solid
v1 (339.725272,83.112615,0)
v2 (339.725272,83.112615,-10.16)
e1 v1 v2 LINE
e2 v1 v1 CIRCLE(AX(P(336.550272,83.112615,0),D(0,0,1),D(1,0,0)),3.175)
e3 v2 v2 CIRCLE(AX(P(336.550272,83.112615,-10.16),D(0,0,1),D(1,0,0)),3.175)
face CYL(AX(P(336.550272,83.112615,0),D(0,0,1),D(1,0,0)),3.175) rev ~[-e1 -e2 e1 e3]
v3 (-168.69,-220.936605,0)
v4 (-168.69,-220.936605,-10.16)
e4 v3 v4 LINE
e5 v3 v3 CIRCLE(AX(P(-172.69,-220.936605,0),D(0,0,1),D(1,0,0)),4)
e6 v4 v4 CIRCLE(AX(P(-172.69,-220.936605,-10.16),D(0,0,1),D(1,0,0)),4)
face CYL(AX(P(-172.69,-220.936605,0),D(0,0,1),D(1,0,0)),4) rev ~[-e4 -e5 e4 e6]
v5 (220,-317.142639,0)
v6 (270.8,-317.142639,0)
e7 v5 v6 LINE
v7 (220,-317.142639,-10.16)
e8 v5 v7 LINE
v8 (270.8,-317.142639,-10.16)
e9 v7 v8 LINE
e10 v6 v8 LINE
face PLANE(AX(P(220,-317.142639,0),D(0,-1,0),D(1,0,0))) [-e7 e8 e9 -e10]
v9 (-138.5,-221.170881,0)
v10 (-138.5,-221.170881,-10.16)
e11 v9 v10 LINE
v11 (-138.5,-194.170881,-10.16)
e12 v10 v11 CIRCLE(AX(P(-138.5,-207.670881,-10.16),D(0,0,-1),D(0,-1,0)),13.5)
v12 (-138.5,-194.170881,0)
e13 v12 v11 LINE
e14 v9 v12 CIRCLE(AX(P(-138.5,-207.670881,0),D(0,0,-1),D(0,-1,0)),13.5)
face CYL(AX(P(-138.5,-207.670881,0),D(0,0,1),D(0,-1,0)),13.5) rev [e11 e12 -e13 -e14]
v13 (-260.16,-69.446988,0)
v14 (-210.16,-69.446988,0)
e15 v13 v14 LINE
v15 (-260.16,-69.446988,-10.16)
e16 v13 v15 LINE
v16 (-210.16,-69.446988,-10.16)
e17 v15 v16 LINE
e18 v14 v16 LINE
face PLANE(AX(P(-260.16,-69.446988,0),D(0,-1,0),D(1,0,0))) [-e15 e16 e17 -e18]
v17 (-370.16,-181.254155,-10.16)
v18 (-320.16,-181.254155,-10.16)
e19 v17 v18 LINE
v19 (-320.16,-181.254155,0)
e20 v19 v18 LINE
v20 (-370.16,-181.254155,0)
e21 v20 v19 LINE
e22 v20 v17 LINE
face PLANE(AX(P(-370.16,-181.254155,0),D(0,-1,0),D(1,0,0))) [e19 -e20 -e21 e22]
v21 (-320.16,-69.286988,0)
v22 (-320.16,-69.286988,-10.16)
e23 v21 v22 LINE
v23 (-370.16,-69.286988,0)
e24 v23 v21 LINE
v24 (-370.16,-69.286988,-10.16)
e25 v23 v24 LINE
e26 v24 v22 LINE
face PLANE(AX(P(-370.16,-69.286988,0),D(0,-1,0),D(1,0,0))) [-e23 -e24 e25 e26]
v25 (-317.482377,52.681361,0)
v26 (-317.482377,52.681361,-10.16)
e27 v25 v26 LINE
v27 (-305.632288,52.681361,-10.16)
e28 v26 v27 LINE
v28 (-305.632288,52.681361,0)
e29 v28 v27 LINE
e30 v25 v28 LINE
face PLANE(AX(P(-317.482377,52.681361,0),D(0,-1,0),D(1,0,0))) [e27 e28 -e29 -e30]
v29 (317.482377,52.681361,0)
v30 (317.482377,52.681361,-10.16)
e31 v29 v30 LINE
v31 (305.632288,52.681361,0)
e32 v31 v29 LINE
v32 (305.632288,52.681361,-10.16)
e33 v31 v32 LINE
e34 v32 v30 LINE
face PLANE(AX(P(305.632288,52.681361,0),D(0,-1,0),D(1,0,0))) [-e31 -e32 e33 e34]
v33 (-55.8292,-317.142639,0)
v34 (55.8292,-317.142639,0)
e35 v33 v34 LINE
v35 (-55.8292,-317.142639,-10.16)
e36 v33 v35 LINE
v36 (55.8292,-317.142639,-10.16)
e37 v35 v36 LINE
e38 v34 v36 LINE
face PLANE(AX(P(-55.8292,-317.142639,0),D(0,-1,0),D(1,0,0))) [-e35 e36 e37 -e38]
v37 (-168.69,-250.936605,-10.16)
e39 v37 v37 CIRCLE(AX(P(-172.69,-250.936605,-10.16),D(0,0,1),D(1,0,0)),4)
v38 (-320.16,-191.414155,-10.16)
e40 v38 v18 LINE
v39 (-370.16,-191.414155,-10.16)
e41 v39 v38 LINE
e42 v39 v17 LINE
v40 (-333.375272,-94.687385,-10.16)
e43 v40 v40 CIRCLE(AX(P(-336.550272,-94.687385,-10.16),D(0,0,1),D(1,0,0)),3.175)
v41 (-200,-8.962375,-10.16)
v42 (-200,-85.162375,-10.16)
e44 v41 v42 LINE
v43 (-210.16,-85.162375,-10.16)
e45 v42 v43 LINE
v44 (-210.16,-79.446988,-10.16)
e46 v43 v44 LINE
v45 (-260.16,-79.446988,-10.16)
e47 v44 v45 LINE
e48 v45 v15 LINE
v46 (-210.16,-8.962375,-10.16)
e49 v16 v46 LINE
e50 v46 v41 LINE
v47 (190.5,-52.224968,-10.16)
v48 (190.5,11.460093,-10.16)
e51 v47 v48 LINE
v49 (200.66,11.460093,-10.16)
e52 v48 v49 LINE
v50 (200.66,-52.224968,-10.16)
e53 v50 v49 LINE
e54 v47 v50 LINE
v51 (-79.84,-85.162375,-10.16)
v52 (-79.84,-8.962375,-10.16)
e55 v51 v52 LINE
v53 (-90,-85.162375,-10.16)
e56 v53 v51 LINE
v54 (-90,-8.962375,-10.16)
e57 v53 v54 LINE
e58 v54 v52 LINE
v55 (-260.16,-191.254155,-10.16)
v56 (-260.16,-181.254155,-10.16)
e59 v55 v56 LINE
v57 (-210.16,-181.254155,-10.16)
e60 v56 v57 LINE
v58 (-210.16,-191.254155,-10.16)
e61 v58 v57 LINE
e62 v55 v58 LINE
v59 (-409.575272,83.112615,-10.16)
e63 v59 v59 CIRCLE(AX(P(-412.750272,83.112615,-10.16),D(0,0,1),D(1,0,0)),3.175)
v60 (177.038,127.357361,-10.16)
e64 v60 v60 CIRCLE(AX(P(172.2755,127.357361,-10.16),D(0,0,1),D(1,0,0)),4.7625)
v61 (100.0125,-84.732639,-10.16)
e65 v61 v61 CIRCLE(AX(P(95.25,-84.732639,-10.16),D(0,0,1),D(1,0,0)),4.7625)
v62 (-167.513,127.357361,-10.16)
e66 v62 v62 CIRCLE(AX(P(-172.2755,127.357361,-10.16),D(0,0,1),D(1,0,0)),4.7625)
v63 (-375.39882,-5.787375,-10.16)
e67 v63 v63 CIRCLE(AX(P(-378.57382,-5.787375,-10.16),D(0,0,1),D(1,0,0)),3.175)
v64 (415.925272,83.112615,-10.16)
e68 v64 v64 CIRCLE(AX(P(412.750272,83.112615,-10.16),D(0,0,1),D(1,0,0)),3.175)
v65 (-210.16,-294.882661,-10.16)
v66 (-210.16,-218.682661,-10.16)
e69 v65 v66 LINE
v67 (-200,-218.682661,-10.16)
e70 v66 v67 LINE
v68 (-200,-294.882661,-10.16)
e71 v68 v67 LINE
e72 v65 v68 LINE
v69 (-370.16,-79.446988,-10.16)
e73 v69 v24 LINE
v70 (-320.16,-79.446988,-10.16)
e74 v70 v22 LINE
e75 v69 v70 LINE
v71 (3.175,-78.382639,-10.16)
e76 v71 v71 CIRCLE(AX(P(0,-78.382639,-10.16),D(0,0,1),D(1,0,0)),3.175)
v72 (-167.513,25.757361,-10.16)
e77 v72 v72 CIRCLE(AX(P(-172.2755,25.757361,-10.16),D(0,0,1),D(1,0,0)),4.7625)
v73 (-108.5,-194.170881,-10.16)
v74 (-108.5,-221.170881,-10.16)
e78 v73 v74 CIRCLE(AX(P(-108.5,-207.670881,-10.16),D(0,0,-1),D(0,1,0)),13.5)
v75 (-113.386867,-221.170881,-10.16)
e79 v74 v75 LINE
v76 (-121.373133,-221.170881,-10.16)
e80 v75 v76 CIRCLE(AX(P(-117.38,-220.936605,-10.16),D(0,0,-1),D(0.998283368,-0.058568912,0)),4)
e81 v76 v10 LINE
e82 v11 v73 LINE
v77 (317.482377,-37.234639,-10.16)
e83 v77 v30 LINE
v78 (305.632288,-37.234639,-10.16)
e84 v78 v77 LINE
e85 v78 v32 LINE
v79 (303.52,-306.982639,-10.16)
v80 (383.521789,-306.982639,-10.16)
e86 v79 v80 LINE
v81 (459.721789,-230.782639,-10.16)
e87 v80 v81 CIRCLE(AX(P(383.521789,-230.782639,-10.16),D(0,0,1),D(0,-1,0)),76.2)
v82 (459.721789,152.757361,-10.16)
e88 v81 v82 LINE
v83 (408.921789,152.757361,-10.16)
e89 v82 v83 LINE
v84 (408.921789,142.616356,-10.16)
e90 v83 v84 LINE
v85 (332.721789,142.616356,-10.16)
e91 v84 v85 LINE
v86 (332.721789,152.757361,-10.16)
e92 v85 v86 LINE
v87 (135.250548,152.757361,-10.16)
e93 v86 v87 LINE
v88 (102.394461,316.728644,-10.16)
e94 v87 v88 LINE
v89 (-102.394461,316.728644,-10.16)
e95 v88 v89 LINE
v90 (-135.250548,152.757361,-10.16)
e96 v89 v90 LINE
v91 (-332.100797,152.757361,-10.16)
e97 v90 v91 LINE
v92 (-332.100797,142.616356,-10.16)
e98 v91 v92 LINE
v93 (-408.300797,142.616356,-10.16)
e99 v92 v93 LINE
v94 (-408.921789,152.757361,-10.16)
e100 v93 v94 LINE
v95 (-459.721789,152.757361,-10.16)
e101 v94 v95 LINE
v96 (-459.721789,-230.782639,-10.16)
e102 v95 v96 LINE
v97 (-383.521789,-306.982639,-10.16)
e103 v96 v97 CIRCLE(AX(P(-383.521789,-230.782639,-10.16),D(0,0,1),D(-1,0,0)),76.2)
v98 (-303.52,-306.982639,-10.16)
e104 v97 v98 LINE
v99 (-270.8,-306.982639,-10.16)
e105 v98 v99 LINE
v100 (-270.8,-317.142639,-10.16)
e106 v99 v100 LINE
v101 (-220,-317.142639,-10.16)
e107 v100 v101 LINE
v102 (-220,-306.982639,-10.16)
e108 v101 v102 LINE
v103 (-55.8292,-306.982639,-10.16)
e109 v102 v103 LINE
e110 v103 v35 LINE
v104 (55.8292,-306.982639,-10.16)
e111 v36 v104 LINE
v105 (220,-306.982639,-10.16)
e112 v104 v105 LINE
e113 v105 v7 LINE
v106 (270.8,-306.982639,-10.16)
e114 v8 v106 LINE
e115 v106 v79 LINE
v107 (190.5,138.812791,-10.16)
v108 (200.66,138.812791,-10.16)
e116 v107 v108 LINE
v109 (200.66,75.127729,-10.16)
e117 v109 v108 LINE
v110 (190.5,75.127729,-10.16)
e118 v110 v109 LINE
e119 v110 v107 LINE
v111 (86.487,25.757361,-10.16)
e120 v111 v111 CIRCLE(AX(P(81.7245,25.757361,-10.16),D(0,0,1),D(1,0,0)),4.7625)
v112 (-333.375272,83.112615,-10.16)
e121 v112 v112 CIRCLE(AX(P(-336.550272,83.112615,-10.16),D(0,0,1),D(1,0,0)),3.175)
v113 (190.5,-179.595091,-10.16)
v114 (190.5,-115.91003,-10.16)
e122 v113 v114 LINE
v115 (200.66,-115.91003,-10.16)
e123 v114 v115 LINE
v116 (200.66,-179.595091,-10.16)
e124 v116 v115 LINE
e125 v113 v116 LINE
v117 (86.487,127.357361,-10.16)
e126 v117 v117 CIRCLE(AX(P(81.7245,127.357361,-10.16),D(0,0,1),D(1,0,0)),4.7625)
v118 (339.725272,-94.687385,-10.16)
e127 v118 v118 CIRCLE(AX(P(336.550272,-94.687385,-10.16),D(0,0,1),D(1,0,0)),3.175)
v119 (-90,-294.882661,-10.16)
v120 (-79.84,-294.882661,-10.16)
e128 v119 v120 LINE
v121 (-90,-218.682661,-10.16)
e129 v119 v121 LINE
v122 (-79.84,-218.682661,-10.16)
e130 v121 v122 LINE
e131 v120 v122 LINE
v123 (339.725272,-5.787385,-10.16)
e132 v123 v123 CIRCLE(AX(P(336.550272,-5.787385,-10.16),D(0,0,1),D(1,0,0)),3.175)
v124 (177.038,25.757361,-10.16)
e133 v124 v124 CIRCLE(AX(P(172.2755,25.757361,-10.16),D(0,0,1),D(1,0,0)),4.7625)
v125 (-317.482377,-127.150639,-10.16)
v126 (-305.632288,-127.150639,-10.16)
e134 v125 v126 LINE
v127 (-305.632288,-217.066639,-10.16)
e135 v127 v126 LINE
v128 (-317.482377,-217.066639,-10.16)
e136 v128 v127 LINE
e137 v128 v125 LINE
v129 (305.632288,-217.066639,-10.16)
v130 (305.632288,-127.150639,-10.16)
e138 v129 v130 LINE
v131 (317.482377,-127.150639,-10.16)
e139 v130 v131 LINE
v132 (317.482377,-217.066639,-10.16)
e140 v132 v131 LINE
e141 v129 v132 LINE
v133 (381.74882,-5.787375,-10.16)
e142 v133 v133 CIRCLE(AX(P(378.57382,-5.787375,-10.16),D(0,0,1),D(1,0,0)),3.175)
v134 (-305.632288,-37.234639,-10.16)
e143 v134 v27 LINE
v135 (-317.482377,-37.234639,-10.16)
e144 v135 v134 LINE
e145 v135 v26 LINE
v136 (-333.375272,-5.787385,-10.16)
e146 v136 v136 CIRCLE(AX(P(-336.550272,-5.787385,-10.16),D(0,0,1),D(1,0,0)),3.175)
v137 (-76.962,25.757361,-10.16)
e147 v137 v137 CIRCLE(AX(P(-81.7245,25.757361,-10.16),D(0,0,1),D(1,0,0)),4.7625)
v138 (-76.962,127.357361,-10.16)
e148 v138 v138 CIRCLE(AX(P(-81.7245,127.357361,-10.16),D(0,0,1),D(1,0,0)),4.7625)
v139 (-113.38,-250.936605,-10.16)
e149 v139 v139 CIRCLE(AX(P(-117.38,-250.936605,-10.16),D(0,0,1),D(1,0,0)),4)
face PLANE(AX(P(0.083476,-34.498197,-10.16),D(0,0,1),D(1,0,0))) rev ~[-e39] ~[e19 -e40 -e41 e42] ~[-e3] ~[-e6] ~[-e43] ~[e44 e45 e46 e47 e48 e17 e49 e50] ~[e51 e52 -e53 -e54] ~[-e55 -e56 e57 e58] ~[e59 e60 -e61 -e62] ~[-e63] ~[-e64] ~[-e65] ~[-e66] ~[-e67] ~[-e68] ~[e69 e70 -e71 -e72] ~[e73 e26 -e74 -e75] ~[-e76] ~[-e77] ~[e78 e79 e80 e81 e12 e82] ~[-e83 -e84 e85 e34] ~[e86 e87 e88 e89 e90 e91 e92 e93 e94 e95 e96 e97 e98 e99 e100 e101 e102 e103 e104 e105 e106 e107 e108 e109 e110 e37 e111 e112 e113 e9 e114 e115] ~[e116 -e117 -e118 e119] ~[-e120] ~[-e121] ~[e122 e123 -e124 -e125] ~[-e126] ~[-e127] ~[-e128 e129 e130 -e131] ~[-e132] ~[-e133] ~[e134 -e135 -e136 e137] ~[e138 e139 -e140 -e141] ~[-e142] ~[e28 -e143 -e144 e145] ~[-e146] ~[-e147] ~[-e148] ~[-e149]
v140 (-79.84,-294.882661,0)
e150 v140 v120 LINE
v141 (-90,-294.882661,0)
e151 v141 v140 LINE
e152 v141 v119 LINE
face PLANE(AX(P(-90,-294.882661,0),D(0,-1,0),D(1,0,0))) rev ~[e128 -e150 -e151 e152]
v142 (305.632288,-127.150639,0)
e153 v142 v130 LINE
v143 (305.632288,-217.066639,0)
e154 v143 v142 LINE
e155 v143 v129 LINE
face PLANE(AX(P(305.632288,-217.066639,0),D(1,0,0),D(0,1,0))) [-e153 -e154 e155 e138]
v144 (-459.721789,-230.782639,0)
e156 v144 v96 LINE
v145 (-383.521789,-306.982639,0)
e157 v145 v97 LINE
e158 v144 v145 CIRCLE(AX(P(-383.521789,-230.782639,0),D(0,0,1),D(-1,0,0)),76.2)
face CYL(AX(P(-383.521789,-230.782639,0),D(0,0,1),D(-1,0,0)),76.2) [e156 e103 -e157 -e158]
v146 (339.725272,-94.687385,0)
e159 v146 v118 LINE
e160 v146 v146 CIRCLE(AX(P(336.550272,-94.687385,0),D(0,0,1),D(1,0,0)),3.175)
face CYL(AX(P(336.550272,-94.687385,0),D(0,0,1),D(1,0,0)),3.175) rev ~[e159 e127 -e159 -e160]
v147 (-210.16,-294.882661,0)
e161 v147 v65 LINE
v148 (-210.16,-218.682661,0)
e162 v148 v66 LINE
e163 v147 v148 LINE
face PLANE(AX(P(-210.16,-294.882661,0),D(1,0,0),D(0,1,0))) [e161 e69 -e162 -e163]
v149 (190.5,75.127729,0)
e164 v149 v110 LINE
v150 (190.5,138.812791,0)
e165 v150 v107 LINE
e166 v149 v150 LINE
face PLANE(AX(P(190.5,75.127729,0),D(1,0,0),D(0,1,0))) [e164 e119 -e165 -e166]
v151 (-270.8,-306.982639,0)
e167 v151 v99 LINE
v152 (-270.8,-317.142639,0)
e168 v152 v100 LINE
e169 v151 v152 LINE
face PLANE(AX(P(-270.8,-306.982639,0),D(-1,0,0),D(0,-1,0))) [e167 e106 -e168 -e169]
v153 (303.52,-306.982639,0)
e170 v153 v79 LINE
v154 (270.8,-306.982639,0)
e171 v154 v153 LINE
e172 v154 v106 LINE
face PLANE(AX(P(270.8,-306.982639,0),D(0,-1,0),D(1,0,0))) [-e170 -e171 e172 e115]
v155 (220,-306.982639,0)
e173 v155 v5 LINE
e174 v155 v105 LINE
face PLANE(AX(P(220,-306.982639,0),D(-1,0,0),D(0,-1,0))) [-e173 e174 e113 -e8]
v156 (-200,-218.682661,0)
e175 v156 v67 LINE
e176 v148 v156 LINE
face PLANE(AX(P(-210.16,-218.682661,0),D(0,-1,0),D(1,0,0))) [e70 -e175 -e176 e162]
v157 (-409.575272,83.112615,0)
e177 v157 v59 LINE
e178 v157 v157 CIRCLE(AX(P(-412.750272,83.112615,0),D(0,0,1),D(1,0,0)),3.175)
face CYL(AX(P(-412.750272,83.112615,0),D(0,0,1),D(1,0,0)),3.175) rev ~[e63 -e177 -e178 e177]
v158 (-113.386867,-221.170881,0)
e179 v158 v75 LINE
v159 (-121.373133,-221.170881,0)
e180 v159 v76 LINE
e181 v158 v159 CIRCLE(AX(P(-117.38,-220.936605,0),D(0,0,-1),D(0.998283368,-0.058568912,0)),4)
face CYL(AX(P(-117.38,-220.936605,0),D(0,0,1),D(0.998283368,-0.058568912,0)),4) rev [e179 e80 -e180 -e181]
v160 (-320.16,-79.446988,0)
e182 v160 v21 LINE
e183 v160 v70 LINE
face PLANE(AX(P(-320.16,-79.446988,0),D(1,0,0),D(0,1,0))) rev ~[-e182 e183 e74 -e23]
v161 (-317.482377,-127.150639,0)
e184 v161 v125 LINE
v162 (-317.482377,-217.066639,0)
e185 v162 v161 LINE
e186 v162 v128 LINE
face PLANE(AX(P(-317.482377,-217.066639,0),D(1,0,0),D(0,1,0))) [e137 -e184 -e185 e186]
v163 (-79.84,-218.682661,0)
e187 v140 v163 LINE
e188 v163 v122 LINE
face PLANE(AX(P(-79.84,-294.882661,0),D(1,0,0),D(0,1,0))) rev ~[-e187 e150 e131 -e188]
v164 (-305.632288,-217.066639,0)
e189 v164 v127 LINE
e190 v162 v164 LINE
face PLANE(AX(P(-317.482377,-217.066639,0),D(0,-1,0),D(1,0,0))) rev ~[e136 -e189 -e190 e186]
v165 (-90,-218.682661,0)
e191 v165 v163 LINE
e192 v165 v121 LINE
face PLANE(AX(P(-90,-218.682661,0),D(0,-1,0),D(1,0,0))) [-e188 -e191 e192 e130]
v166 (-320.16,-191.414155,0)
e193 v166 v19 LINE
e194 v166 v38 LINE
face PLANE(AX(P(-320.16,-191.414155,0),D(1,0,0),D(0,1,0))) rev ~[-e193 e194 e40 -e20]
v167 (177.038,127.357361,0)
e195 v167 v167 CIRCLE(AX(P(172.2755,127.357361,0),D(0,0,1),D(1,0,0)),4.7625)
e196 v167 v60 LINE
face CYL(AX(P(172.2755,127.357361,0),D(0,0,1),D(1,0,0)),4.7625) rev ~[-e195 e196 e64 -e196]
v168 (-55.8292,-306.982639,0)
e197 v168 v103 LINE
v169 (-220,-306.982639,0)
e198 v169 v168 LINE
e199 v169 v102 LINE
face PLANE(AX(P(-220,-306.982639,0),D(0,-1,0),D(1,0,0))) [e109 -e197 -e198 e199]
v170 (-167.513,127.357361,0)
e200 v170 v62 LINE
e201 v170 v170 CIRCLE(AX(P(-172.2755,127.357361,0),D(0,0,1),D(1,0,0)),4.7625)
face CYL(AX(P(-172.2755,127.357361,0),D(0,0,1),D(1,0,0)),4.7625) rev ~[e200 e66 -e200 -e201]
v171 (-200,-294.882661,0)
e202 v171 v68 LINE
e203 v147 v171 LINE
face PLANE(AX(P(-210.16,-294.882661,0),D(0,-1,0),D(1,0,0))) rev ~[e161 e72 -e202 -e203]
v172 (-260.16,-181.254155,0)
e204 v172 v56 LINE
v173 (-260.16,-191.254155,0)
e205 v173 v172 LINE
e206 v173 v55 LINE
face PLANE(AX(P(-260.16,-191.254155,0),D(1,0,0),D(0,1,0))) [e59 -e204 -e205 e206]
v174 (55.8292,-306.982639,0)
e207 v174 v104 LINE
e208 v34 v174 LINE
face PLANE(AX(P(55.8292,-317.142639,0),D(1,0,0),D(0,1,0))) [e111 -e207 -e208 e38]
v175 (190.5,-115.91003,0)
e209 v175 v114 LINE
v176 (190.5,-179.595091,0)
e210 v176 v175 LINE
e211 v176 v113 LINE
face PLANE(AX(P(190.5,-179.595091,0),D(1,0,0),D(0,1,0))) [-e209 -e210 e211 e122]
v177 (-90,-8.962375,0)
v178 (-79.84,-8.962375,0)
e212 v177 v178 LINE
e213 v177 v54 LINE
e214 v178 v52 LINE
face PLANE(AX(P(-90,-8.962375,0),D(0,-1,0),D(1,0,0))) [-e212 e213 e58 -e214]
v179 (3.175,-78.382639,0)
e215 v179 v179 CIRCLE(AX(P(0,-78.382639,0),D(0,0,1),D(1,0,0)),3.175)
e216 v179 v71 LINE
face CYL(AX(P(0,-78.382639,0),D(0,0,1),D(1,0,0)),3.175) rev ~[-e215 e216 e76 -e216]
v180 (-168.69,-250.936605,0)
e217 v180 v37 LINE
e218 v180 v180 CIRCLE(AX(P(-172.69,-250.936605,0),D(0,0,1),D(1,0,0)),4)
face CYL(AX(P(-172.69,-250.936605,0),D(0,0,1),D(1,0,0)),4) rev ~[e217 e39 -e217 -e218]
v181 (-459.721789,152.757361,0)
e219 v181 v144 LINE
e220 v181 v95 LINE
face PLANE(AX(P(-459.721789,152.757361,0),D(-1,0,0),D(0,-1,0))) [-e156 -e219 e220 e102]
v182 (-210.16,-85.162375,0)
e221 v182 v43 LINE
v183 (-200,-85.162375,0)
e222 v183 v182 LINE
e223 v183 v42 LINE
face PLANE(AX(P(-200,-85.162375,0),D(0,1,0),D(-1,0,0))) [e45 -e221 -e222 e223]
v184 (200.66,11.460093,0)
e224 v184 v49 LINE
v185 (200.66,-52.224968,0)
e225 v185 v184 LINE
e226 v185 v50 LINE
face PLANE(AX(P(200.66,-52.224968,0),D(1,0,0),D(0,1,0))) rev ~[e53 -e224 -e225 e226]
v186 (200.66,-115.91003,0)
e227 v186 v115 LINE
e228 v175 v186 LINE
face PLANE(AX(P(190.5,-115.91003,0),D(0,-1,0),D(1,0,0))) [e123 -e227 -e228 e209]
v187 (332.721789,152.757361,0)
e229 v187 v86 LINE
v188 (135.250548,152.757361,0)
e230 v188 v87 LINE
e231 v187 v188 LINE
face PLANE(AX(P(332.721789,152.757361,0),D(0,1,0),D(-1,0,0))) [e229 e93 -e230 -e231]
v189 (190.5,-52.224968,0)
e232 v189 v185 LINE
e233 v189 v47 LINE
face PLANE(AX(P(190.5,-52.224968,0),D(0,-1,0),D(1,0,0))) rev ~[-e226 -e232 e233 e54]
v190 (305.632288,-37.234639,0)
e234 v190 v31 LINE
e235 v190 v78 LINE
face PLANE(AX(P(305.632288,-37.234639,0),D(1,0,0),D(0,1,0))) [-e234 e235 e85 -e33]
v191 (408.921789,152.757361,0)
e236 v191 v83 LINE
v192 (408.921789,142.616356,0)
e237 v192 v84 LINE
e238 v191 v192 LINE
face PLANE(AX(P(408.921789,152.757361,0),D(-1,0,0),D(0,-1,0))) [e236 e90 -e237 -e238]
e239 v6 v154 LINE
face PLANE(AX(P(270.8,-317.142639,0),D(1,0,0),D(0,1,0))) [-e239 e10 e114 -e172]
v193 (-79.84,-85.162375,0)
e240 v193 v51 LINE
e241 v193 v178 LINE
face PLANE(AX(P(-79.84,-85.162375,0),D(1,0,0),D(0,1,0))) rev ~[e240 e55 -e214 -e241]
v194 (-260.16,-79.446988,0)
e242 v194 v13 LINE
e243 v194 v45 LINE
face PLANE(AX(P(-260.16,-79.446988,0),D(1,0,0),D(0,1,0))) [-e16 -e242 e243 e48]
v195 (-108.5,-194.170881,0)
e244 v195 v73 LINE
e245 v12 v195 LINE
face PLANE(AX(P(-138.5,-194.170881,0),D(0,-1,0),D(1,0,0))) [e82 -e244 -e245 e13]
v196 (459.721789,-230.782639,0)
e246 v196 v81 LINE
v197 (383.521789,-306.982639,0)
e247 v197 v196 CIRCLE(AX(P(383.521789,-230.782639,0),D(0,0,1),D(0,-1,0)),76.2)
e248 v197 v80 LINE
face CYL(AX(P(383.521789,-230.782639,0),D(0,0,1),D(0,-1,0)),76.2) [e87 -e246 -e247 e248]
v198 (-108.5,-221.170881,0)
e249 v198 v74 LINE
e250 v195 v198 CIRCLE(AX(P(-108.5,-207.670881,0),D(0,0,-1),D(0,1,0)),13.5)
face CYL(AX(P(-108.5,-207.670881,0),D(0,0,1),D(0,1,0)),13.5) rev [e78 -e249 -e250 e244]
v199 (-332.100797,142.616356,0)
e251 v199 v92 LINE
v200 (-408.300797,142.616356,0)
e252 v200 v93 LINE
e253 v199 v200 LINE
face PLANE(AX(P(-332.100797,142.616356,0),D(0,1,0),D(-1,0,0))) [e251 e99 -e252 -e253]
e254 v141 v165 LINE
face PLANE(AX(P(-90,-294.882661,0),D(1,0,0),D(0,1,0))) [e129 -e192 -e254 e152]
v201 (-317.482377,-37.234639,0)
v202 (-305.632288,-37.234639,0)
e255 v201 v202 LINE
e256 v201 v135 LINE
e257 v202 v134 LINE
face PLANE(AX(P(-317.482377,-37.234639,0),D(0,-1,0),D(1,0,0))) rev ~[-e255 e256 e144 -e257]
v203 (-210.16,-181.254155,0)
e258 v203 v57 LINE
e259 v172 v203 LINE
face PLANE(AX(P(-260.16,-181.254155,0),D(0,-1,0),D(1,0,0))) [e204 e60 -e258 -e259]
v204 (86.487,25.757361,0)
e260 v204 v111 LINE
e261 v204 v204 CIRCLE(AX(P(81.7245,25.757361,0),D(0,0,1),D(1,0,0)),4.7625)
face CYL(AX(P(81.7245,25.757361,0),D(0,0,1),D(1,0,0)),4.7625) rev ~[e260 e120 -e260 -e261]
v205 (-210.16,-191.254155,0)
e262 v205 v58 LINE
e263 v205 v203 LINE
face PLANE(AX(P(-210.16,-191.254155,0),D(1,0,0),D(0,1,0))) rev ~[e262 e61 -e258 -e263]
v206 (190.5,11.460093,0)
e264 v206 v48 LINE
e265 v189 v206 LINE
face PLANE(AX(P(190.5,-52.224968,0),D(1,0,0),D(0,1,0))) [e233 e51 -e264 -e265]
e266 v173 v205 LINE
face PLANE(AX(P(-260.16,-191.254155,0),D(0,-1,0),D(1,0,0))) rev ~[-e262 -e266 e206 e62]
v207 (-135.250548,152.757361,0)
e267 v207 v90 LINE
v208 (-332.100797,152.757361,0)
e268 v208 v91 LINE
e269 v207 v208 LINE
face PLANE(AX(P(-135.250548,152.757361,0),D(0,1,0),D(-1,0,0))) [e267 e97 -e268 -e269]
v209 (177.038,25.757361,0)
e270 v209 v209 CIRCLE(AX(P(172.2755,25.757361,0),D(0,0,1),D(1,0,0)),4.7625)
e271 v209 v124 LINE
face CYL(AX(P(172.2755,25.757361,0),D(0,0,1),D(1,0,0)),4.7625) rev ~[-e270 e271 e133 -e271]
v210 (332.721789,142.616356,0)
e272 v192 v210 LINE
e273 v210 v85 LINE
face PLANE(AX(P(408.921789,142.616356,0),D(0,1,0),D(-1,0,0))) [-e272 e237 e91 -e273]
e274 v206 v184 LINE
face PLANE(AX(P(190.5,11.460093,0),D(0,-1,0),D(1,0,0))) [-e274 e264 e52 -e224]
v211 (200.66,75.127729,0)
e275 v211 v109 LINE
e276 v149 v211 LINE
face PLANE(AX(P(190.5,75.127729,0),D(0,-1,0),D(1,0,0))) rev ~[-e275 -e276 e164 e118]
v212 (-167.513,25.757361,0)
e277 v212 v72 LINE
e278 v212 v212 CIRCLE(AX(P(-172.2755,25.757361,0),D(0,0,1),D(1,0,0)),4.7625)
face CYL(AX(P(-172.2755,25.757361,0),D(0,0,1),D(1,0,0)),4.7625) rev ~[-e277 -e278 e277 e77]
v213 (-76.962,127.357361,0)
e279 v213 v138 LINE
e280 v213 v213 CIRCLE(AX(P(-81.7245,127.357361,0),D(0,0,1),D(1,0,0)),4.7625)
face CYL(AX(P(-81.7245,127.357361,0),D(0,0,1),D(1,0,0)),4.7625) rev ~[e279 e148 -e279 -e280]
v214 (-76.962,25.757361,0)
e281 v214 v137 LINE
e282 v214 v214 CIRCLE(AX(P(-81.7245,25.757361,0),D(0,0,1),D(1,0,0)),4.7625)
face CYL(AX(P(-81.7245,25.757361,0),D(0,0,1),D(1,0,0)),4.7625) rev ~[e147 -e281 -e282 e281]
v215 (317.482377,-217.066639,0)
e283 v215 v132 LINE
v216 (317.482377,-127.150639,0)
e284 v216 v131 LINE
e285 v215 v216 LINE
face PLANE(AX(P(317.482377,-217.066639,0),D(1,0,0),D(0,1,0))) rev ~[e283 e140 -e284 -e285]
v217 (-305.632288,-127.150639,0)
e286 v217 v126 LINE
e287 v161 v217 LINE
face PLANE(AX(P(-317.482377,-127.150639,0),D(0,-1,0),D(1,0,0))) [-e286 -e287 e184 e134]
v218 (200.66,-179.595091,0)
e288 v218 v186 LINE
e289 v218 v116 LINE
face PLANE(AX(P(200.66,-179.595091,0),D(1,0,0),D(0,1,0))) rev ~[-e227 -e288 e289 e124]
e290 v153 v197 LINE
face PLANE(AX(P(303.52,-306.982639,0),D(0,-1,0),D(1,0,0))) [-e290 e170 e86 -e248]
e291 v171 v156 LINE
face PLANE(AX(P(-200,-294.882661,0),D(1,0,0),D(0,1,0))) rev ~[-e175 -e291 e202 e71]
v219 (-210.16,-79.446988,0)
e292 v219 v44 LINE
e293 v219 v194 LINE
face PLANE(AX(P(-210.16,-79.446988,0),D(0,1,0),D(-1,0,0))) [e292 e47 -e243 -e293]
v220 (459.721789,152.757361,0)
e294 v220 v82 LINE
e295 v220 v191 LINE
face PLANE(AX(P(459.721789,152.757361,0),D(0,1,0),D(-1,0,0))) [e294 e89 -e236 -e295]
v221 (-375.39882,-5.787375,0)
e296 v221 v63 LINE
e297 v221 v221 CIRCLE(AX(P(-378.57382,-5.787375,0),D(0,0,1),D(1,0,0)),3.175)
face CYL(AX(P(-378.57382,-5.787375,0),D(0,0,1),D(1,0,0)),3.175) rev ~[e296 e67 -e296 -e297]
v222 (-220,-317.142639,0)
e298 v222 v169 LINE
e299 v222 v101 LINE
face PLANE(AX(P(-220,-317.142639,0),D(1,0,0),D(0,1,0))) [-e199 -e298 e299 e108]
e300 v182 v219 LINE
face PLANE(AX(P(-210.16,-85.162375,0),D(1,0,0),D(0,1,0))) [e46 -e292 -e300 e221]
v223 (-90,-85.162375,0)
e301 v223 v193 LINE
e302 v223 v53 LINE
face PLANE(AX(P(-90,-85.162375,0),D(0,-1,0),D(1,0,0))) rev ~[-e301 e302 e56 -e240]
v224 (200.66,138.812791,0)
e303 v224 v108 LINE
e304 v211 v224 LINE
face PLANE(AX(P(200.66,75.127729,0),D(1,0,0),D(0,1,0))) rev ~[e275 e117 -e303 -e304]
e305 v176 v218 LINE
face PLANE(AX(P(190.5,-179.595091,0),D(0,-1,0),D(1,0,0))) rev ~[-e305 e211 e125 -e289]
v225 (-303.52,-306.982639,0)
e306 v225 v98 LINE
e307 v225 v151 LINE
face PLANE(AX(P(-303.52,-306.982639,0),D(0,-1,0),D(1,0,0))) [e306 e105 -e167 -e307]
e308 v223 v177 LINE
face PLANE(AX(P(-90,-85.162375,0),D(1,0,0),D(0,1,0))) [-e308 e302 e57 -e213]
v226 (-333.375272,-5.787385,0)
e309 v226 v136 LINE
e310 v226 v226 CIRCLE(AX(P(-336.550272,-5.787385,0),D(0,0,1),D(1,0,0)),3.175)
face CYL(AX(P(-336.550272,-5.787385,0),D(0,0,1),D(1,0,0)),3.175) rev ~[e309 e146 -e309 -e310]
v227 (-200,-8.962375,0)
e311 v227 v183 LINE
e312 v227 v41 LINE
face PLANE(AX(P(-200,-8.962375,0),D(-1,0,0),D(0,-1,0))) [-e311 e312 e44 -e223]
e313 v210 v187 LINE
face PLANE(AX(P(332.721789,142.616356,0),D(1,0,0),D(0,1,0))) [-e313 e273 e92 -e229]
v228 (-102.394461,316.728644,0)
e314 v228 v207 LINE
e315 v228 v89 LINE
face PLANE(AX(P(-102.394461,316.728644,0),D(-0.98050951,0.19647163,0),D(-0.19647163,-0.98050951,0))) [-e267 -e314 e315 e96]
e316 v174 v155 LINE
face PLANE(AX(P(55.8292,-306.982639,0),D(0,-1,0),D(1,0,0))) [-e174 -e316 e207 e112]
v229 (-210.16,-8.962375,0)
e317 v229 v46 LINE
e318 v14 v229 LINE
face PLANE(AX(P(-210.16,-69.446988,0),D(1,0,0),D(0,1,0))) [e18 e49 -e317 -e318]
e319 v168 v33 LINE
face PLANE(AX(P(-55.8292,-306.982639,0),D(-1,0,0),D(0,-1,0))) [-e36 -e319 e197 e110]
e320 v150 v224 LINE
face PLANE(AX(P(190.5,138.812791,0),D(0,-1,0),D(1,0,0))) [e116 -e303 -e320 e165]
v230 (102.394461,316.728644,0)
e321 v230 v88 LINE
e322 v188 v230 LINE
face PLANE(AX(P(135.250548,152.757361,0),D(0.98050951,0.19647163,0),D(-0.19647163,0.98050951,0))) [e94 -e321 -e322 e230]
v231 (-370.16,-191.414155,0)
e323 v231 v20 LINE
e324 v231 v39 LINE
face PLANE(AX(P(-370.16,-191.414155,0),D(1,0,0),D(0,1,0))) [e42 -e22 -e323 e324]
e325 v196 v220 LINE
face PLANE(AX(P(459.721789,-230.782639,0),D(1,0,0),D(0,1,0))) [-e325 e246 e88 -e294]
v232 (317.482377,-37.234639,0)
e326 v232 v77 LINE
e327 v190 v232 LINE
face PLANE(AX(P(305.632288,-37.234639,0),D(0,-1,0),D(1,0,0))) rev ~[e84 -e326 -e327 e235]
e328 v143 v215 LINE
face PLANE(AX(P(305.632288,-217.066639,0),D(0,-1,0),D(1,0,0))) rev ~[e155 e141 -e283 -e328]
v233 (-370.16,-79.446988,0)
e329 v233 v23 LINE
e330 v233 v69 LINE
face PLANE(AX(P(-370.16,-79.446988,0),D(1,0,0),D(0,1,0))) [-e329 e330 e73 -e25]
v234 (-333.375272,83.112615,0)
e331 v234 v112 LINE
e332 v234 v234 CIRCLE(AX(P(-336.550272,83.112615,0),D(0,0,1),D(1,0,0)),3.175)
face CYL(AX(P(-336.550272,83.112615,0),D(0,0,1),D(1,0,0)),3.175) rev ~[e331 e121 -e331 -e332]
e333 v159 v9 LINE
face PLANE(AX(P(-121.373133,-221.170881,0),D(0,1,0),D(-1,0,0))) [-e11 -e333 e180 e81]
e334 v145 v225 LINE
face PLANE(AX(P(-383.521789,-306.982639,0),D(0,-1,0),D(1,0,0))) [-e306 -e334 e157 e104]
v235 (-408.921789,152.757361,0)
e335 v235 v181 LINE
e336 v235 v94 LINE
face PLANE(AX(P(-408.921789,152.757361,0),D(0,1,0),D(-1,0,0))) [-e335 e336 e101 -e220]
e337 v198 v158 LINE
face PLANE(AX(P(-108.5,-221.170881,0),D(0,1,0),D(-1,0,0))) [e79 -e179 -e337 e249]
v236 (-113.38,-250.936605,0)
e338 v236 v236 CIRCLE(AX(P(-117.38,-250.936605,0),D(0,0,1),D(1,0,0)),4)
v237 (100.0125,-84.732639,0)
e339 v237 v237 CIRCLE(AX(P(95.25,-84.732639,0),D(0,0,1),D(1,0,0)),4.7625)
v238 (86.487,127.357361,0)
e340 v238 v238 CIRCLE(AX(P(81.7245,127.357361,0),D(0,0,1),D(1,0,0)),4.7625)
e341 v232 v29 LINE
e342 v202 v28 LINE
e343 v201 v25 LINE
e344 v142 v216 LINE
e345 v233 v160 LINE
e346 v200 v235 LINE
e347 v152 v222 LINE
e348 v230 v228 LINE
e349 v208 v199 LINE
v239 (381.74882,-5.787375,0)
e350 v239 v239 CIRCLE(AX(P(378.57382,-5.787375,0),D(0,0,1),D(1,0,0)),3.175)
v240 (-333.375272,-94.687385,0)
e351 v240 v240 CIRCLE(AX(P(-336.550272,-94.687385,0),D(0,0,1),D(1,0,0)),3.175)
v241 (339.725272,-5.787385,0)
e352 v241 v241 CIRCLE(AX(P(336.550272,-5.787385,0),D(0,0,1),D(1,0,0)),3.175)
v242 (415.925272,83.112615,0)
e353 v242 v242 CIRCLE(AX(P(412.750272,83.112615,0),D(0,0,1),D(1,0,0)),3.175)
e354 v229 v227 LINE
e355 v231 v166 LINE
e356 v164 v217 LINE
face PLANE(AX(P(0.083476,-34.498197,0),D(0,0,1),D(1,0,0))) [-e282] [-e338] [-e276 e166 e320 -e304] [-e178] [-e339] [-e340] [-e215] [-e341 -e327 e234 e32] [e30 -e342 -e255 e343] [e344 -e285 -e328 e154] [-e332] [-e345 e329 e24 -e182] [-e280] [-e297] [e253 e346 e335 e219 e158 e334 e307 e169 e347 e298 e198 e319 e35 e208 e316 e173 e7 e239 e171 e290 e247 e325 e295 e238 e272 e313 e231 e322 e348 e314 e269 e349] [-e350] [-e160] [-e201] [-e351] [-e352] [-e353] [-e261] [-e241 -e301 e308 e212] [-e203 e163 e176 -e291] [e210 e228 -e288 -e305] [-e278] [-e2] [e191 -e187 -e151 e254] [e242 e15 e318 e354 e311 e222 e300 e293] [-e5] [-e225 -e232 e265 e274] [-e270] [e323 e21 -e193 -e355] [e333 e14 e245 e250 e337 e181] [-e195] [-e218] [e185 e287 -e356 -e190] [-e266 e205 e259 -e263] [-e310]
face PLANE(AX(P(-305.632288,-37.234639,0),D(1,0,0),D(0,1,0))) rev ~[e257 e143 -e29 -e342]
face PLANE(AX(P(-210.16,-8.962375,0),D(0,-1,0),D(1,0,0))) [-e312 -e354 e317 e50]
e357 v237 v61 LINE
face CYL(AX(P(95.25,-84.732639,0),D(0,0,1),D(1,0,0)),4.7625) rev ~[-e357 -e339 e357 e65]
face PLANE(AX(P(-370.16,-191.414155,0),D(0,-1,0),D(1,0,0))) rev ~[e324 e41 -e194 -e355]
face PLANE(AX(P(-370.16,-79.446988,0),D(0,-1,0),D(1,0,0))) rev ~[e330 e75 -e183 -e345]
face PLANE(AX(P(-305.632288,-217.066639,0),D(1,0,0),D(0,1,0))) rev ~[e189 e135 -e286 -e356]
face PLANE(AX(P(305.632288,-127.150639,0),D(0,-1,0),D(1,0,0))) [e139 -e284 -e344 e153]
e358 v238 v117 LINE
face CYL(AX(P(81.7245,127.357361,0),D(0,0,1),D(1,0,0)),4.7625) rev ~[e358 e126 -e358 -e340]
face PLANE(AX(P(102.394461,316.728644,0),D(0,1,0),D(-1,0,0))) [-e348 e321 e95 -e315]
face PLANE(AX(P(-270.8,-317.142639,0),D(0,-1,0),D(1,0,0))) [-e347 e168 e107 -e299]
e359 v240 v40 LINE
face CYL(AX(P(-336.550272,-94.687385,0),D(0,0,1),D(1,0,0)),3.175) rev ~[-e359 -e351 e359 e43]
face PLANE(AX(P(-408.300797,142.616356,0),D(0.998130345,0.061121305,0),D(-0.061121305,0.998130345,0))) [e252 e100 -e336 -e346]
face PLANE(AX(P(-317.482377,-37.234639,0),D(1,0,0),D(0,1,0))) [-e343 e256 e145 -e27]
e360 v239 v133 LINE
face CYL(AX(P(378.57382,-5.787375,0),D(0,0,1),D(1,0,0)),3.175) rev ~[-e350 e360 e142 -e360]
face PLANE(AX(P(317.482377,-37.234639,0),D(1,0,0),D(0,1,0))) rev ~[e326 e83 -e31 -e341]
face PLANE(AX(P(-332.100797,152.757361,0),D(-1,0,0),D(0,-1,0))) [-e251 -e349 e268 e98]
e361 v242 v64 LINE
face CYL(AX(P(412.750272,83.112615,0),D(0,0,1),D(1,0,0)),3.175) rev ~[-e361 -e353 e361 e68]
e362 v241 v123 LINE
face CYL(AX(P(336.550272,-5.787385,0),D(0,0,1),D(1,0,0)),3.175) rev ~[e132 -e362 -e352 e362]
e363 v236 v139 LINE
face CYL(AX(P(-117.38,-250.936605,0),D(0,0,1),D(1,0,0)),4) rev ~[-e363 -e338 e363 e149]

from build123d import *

# Parameters (mm, degrees)
SKETCH2_W           = 10.16
SKETCH2_H           = 76.2
SKETCH2_R           = 4
SKETCH2_W_2         = 50
SKETCH2_H_2         = 10.16
SKETCH2_W_3         = 11.850089675
SKETCH2_H_3         = 89.916
SKETCH2_H_4         = 10
SKETCH2_R_2         = 3.175
SKETCH2_H_5         = 63.685061478
SKETCH2_R_3         = 4.7625
SKETCH2_H_6         = 63.685061479
BOSS_EXTRUDE1_DEPTH = 10.16


with BuildPart() as part:
    # Sketch2 → Boss-Extrude1 (new body)
    with BuildSketch(Plane.XY):
        with BuildLine():
            Line((-408.300796745, 142.616356263), (-408.921789204, 152.75736057))
            Line((-408.921789204, 152.75736057), (-459.721789204, 152.75736057))
            Line((-459.721789204, 152.75736057), (-459.721789204, -230.782639429))
            ThreePointArc((-459.721789204, -230.782639429), (-437.403325931, -284.664176156), (-383.521789204, -306.982639429))
            Line((-383.521789204, -306.982639429), (-303.52, -306.982639429))
            Line((-303.52, -306.982639429), (-270.8, -306.98263943))
            Line((-270.8, -306.98263943), (-270.8, -317.14263943))
            Line((-270.8, -317.14263943), (-220, -317.14263943))
            Line((-220, -317.14263943), (-220, -306.98263943))
            Line((-220, -306.98263943), (-55.8292, -306.982639429))
            Line((-55.8292, -306.982639429), (-55.8292, -317.14263943))
            Line((-55.8292, -317.14263943), (55.8292, -317.14263943))
            Line((55.8292, -317.14263943), (55.8292, -306.982639429))
            Line((55.8292, -306.982639429), (220, -306.98263943))
            Line((220, -306.98263943), (220, -317.14263943))
            Line((220, -317.14263943), (270.8, -317.14263943))
            Line((270.8, -317.14263943), (270.8, -306.98263943))
            Line((270.8, -306.98263943), (303.52, -306.982639429))
            Line((303.52, -306.982639429), (383.521789204, -306.982639429))
            ThreePointArc((383.521789204, -306.982639429), (437.403325931, -284.664176156), (459.721789204, -230.782639429))
            Line((459.721789204, -230.782639429), (459.721789204, 152.75736057))
            Line((459.721789204, 152.75736057), (408.921789204, 152.75736057))
            Line((408.921789204, 152.75736057), (408.921789204, 142.616356263))
            Line((408.921789204, 142.616356263), (332.721789204, 142.616356263))
            Line((332.721789204, 142.616356263), (332.721789204, 152.75736057))
            Line((332.721789204, 152.75736057), (135.250547773, 152.75736057))
            Line((135.250547773, 152.75736057), (102.394461083, 316.728644457))
            Line((102.394461083, 316.728644457), (-102.394461083, 316.728644457))
            Line((-102.394461083, 316.728644457), (-135.250547773, 152.75736057))
            Line((-135.250547773, 152.75736057), (-332.100796745, 152.75736057))
            Line((-332.100796745, 152.75736057), (-332.100796745, 142.616356263))
            Line((-332.100796745, 142.616356263), (-408.300796745, 142.616356263))
        make_face()
        with Locations((-205.08, -256.782661115)):
            Rectangle(SKETCH2_W, SKETCH2_H, mode=Mode.SUBTRACT)
        with Locations((-172.69, -250.936605381)):
            Circle(SKETCH2_R, mode=Mode.SUBTRACT)
        with Locations((-117.38, -250.936605381)):
            Circle(SKETCH2_R, mode=Mode.SUBTRACT)
        with Locations((-84.92, -256.782661115)):
            Rectangle(SKETCH2_W, SKETCH2_H, mode=Mode.SUBTRACT)
        with Locations((-172.69, -220.936605381)):
            Circle(SKETCH2_R, mode=Mode.SUBTRACT)
        with BuildLine():
            ThreePointArc((-108.5, -194.170881029), (-95, -207.670881029), (-108.5, -221.170881029))
            Line((-108.5, -221.170881029), (-113.386866529, -221.170881029))
            ThreePointArc((-113.386866529, -221.170881029), (-117.38, -224.936605381), (-121.373133471, -221.170881029))
            Line((-121.373133471, -221.170881029), (-138.5, -221.170881029))
            ThreePointArc((-138.5, -221.170881029), (-152, -207.670881029), (-138.5, -194.170881029))
            Line((-138.5, -194.170881029), (-108.5, -194.170881029))
        make_face(mode=Mode.SUBTRACT)
        with Locations((-345.16, -186.334154613)):
            Rectangle(SKETCH2_W_2, SKETCH2_H_2, mode=Mode.SUBTRACT)
        with Locations((-311.557332494, -172.10863943)):
            Rectangle(SKETCH2_W_3, SKETCH2_H_3, mode=Mode.SUBTRACT)
        with Locations((-235.16, -186.254154613)):
            Rectangle(SKETCH2_W_2, SKETCH2_H_4, mode=Mode.SUBTRACT)
        with Locations((-336.55027219, -94.687385458)):
            Circle(SKETCH2_R_2, mode=Mode.SUBTRACT)
        with Locations((195.58, -147.752560311)):
            Rectangle(SKETCH2_W, SKETCH2_H_5, mode=Mode.SUBTRACT)
        with Locations((0, -78.38263943)):
            Circle(SKETCH2_R_2, mode=Mode.SUBTRACT)
        with Locations((95.25, -84.73263943)):
            Circle(SKETCH2_R_3, mode=Mode.SUBTRACT)
        with Locations((311.557332494, -172.10863943)):
            Rectangle(SKETCH2_W_3, SKETCH2_H_3, mode=Mode.SUBTRACT)
        with Locations((336.550272189, -94.687385458)):
            Circle(SKETCH2_R_2, mode=Mode.SUBTRACT)
        with Locations((-345.16, -74.366988355)):
            Rectangle(SKETCH2_W_2, SKETCH2_H_2, mode=Mode.SUBTRACT)
        Polygon((-210.16, -79.446988355), (-260.16, -79.446988355), (-260.16, -69.446988355), (-210.16, -69.446988355), (-210.16, -8.96237531), (-200, -8.96237531), (-200, -85.16237531), (-210.16, -85.16237531), align=None, mode=Mode.SUBTRACT)
        with Locations((-378.573819589, -5.78737531)):
            Circle(SKETCH2_R_2, mode=Mode.SUBTRACT)
        with Locations((-336.55027219, -5.787385458)):
            Circle(SKETCH2_R_2, mode=Mode.SUBTRACT)
        with Locations((-311.557332494, 7.72336057)):
            Rectangle(SKETCH2_W_3, SKETCH2_H_3, mode=Mode.SUBTRACT)
        with Locations((-84.92, -47.06237531)):
            Rectangle(SKETCH2_W, SKETCH2_H, mode=Mode.SUBTRACT)
        with Locations((-172.2755, 25.75736057)):
            Circle(SKETCH2_R_3, mode=Mode.SUBTRACT)
        with Locations((-81.7245, 25.75736057)):
            Circle(SKETCH2_R_3, mode=Mode.SUBTRACT)
        with Locations((-412.75027219, 83.112614542)):
            Circle(SKETCH2_R_2, mode=Mode.SUBTRACT)
        with Locations((-336.55027219, 83.112614542)):
            Circle(SKETCH2_R_2, mode=Mode.SUBTRACT)
        with Locations((-172.2755, 127.35736057)):
            Circle(SKETCH2_R_3, mode=Mode.SUBTRACT)
        with Locations((-81.7245, 127.35736057)):
            Circle(SKETCH2_R_3, mode=Mode.SUBTRACT)
        with Locations((81.7245, 25.75736057)):
            Circle(SKETCH2_R_3, mode=Mode.SUBTRACT)
        with Locations((195.58, -20.382437355)):
            Rectangle(SKETCH2_W, SKETCH2_H_6, mode=Mode.SUBTRACT)
        with Locations((172.2755, 25.75736057)):
            Circle(SKETCH2_R_3, mode=Mode.SUBTRACT)
        with Locations((311.557332494, 7.72336057)):
            Rectangle(SKETCH2_W_3, SKETCH2_H_3, mode=Mode.SUBTRACT)
        with Locations((336.550272189, -5.787385458)):
            Circle(SKETCH2_R_2, mode=Mode.SUBTRACT)
        with Locations((378.573819589, -5.78737531)):
            Circle(SKETCH2_R_2, mode=Mode.SUBTRACT)
        with Locations((81.7245, 127.35736057)):
            Circle(SKETCH2_R_3, mode=Mode.SUBTRACT)
        with Locations((195.58, 106.97026018)):
            Rectangle(SKETCH2_W, SKETCH2_H_6, mode=Mode.SUBTRACT)
        with Locations((172.2755, 127.35736057)):
            Circle(SKETCH2_R_3, mode=Mode.SUBTRACT)
        with Locations((336.550272189, 83.112614542)):
            Circle(SKETCH2_R_2, mode=Mode.SUBTRACT)
        with Locations((412.750272189, 83.112614542)):
            Circle(SKETCH2_R_2, mode=Mode.SUBTRACT)
    extrude(amount=-BOSS_EXTRUDE1_DEPTH)


solid = part.part
